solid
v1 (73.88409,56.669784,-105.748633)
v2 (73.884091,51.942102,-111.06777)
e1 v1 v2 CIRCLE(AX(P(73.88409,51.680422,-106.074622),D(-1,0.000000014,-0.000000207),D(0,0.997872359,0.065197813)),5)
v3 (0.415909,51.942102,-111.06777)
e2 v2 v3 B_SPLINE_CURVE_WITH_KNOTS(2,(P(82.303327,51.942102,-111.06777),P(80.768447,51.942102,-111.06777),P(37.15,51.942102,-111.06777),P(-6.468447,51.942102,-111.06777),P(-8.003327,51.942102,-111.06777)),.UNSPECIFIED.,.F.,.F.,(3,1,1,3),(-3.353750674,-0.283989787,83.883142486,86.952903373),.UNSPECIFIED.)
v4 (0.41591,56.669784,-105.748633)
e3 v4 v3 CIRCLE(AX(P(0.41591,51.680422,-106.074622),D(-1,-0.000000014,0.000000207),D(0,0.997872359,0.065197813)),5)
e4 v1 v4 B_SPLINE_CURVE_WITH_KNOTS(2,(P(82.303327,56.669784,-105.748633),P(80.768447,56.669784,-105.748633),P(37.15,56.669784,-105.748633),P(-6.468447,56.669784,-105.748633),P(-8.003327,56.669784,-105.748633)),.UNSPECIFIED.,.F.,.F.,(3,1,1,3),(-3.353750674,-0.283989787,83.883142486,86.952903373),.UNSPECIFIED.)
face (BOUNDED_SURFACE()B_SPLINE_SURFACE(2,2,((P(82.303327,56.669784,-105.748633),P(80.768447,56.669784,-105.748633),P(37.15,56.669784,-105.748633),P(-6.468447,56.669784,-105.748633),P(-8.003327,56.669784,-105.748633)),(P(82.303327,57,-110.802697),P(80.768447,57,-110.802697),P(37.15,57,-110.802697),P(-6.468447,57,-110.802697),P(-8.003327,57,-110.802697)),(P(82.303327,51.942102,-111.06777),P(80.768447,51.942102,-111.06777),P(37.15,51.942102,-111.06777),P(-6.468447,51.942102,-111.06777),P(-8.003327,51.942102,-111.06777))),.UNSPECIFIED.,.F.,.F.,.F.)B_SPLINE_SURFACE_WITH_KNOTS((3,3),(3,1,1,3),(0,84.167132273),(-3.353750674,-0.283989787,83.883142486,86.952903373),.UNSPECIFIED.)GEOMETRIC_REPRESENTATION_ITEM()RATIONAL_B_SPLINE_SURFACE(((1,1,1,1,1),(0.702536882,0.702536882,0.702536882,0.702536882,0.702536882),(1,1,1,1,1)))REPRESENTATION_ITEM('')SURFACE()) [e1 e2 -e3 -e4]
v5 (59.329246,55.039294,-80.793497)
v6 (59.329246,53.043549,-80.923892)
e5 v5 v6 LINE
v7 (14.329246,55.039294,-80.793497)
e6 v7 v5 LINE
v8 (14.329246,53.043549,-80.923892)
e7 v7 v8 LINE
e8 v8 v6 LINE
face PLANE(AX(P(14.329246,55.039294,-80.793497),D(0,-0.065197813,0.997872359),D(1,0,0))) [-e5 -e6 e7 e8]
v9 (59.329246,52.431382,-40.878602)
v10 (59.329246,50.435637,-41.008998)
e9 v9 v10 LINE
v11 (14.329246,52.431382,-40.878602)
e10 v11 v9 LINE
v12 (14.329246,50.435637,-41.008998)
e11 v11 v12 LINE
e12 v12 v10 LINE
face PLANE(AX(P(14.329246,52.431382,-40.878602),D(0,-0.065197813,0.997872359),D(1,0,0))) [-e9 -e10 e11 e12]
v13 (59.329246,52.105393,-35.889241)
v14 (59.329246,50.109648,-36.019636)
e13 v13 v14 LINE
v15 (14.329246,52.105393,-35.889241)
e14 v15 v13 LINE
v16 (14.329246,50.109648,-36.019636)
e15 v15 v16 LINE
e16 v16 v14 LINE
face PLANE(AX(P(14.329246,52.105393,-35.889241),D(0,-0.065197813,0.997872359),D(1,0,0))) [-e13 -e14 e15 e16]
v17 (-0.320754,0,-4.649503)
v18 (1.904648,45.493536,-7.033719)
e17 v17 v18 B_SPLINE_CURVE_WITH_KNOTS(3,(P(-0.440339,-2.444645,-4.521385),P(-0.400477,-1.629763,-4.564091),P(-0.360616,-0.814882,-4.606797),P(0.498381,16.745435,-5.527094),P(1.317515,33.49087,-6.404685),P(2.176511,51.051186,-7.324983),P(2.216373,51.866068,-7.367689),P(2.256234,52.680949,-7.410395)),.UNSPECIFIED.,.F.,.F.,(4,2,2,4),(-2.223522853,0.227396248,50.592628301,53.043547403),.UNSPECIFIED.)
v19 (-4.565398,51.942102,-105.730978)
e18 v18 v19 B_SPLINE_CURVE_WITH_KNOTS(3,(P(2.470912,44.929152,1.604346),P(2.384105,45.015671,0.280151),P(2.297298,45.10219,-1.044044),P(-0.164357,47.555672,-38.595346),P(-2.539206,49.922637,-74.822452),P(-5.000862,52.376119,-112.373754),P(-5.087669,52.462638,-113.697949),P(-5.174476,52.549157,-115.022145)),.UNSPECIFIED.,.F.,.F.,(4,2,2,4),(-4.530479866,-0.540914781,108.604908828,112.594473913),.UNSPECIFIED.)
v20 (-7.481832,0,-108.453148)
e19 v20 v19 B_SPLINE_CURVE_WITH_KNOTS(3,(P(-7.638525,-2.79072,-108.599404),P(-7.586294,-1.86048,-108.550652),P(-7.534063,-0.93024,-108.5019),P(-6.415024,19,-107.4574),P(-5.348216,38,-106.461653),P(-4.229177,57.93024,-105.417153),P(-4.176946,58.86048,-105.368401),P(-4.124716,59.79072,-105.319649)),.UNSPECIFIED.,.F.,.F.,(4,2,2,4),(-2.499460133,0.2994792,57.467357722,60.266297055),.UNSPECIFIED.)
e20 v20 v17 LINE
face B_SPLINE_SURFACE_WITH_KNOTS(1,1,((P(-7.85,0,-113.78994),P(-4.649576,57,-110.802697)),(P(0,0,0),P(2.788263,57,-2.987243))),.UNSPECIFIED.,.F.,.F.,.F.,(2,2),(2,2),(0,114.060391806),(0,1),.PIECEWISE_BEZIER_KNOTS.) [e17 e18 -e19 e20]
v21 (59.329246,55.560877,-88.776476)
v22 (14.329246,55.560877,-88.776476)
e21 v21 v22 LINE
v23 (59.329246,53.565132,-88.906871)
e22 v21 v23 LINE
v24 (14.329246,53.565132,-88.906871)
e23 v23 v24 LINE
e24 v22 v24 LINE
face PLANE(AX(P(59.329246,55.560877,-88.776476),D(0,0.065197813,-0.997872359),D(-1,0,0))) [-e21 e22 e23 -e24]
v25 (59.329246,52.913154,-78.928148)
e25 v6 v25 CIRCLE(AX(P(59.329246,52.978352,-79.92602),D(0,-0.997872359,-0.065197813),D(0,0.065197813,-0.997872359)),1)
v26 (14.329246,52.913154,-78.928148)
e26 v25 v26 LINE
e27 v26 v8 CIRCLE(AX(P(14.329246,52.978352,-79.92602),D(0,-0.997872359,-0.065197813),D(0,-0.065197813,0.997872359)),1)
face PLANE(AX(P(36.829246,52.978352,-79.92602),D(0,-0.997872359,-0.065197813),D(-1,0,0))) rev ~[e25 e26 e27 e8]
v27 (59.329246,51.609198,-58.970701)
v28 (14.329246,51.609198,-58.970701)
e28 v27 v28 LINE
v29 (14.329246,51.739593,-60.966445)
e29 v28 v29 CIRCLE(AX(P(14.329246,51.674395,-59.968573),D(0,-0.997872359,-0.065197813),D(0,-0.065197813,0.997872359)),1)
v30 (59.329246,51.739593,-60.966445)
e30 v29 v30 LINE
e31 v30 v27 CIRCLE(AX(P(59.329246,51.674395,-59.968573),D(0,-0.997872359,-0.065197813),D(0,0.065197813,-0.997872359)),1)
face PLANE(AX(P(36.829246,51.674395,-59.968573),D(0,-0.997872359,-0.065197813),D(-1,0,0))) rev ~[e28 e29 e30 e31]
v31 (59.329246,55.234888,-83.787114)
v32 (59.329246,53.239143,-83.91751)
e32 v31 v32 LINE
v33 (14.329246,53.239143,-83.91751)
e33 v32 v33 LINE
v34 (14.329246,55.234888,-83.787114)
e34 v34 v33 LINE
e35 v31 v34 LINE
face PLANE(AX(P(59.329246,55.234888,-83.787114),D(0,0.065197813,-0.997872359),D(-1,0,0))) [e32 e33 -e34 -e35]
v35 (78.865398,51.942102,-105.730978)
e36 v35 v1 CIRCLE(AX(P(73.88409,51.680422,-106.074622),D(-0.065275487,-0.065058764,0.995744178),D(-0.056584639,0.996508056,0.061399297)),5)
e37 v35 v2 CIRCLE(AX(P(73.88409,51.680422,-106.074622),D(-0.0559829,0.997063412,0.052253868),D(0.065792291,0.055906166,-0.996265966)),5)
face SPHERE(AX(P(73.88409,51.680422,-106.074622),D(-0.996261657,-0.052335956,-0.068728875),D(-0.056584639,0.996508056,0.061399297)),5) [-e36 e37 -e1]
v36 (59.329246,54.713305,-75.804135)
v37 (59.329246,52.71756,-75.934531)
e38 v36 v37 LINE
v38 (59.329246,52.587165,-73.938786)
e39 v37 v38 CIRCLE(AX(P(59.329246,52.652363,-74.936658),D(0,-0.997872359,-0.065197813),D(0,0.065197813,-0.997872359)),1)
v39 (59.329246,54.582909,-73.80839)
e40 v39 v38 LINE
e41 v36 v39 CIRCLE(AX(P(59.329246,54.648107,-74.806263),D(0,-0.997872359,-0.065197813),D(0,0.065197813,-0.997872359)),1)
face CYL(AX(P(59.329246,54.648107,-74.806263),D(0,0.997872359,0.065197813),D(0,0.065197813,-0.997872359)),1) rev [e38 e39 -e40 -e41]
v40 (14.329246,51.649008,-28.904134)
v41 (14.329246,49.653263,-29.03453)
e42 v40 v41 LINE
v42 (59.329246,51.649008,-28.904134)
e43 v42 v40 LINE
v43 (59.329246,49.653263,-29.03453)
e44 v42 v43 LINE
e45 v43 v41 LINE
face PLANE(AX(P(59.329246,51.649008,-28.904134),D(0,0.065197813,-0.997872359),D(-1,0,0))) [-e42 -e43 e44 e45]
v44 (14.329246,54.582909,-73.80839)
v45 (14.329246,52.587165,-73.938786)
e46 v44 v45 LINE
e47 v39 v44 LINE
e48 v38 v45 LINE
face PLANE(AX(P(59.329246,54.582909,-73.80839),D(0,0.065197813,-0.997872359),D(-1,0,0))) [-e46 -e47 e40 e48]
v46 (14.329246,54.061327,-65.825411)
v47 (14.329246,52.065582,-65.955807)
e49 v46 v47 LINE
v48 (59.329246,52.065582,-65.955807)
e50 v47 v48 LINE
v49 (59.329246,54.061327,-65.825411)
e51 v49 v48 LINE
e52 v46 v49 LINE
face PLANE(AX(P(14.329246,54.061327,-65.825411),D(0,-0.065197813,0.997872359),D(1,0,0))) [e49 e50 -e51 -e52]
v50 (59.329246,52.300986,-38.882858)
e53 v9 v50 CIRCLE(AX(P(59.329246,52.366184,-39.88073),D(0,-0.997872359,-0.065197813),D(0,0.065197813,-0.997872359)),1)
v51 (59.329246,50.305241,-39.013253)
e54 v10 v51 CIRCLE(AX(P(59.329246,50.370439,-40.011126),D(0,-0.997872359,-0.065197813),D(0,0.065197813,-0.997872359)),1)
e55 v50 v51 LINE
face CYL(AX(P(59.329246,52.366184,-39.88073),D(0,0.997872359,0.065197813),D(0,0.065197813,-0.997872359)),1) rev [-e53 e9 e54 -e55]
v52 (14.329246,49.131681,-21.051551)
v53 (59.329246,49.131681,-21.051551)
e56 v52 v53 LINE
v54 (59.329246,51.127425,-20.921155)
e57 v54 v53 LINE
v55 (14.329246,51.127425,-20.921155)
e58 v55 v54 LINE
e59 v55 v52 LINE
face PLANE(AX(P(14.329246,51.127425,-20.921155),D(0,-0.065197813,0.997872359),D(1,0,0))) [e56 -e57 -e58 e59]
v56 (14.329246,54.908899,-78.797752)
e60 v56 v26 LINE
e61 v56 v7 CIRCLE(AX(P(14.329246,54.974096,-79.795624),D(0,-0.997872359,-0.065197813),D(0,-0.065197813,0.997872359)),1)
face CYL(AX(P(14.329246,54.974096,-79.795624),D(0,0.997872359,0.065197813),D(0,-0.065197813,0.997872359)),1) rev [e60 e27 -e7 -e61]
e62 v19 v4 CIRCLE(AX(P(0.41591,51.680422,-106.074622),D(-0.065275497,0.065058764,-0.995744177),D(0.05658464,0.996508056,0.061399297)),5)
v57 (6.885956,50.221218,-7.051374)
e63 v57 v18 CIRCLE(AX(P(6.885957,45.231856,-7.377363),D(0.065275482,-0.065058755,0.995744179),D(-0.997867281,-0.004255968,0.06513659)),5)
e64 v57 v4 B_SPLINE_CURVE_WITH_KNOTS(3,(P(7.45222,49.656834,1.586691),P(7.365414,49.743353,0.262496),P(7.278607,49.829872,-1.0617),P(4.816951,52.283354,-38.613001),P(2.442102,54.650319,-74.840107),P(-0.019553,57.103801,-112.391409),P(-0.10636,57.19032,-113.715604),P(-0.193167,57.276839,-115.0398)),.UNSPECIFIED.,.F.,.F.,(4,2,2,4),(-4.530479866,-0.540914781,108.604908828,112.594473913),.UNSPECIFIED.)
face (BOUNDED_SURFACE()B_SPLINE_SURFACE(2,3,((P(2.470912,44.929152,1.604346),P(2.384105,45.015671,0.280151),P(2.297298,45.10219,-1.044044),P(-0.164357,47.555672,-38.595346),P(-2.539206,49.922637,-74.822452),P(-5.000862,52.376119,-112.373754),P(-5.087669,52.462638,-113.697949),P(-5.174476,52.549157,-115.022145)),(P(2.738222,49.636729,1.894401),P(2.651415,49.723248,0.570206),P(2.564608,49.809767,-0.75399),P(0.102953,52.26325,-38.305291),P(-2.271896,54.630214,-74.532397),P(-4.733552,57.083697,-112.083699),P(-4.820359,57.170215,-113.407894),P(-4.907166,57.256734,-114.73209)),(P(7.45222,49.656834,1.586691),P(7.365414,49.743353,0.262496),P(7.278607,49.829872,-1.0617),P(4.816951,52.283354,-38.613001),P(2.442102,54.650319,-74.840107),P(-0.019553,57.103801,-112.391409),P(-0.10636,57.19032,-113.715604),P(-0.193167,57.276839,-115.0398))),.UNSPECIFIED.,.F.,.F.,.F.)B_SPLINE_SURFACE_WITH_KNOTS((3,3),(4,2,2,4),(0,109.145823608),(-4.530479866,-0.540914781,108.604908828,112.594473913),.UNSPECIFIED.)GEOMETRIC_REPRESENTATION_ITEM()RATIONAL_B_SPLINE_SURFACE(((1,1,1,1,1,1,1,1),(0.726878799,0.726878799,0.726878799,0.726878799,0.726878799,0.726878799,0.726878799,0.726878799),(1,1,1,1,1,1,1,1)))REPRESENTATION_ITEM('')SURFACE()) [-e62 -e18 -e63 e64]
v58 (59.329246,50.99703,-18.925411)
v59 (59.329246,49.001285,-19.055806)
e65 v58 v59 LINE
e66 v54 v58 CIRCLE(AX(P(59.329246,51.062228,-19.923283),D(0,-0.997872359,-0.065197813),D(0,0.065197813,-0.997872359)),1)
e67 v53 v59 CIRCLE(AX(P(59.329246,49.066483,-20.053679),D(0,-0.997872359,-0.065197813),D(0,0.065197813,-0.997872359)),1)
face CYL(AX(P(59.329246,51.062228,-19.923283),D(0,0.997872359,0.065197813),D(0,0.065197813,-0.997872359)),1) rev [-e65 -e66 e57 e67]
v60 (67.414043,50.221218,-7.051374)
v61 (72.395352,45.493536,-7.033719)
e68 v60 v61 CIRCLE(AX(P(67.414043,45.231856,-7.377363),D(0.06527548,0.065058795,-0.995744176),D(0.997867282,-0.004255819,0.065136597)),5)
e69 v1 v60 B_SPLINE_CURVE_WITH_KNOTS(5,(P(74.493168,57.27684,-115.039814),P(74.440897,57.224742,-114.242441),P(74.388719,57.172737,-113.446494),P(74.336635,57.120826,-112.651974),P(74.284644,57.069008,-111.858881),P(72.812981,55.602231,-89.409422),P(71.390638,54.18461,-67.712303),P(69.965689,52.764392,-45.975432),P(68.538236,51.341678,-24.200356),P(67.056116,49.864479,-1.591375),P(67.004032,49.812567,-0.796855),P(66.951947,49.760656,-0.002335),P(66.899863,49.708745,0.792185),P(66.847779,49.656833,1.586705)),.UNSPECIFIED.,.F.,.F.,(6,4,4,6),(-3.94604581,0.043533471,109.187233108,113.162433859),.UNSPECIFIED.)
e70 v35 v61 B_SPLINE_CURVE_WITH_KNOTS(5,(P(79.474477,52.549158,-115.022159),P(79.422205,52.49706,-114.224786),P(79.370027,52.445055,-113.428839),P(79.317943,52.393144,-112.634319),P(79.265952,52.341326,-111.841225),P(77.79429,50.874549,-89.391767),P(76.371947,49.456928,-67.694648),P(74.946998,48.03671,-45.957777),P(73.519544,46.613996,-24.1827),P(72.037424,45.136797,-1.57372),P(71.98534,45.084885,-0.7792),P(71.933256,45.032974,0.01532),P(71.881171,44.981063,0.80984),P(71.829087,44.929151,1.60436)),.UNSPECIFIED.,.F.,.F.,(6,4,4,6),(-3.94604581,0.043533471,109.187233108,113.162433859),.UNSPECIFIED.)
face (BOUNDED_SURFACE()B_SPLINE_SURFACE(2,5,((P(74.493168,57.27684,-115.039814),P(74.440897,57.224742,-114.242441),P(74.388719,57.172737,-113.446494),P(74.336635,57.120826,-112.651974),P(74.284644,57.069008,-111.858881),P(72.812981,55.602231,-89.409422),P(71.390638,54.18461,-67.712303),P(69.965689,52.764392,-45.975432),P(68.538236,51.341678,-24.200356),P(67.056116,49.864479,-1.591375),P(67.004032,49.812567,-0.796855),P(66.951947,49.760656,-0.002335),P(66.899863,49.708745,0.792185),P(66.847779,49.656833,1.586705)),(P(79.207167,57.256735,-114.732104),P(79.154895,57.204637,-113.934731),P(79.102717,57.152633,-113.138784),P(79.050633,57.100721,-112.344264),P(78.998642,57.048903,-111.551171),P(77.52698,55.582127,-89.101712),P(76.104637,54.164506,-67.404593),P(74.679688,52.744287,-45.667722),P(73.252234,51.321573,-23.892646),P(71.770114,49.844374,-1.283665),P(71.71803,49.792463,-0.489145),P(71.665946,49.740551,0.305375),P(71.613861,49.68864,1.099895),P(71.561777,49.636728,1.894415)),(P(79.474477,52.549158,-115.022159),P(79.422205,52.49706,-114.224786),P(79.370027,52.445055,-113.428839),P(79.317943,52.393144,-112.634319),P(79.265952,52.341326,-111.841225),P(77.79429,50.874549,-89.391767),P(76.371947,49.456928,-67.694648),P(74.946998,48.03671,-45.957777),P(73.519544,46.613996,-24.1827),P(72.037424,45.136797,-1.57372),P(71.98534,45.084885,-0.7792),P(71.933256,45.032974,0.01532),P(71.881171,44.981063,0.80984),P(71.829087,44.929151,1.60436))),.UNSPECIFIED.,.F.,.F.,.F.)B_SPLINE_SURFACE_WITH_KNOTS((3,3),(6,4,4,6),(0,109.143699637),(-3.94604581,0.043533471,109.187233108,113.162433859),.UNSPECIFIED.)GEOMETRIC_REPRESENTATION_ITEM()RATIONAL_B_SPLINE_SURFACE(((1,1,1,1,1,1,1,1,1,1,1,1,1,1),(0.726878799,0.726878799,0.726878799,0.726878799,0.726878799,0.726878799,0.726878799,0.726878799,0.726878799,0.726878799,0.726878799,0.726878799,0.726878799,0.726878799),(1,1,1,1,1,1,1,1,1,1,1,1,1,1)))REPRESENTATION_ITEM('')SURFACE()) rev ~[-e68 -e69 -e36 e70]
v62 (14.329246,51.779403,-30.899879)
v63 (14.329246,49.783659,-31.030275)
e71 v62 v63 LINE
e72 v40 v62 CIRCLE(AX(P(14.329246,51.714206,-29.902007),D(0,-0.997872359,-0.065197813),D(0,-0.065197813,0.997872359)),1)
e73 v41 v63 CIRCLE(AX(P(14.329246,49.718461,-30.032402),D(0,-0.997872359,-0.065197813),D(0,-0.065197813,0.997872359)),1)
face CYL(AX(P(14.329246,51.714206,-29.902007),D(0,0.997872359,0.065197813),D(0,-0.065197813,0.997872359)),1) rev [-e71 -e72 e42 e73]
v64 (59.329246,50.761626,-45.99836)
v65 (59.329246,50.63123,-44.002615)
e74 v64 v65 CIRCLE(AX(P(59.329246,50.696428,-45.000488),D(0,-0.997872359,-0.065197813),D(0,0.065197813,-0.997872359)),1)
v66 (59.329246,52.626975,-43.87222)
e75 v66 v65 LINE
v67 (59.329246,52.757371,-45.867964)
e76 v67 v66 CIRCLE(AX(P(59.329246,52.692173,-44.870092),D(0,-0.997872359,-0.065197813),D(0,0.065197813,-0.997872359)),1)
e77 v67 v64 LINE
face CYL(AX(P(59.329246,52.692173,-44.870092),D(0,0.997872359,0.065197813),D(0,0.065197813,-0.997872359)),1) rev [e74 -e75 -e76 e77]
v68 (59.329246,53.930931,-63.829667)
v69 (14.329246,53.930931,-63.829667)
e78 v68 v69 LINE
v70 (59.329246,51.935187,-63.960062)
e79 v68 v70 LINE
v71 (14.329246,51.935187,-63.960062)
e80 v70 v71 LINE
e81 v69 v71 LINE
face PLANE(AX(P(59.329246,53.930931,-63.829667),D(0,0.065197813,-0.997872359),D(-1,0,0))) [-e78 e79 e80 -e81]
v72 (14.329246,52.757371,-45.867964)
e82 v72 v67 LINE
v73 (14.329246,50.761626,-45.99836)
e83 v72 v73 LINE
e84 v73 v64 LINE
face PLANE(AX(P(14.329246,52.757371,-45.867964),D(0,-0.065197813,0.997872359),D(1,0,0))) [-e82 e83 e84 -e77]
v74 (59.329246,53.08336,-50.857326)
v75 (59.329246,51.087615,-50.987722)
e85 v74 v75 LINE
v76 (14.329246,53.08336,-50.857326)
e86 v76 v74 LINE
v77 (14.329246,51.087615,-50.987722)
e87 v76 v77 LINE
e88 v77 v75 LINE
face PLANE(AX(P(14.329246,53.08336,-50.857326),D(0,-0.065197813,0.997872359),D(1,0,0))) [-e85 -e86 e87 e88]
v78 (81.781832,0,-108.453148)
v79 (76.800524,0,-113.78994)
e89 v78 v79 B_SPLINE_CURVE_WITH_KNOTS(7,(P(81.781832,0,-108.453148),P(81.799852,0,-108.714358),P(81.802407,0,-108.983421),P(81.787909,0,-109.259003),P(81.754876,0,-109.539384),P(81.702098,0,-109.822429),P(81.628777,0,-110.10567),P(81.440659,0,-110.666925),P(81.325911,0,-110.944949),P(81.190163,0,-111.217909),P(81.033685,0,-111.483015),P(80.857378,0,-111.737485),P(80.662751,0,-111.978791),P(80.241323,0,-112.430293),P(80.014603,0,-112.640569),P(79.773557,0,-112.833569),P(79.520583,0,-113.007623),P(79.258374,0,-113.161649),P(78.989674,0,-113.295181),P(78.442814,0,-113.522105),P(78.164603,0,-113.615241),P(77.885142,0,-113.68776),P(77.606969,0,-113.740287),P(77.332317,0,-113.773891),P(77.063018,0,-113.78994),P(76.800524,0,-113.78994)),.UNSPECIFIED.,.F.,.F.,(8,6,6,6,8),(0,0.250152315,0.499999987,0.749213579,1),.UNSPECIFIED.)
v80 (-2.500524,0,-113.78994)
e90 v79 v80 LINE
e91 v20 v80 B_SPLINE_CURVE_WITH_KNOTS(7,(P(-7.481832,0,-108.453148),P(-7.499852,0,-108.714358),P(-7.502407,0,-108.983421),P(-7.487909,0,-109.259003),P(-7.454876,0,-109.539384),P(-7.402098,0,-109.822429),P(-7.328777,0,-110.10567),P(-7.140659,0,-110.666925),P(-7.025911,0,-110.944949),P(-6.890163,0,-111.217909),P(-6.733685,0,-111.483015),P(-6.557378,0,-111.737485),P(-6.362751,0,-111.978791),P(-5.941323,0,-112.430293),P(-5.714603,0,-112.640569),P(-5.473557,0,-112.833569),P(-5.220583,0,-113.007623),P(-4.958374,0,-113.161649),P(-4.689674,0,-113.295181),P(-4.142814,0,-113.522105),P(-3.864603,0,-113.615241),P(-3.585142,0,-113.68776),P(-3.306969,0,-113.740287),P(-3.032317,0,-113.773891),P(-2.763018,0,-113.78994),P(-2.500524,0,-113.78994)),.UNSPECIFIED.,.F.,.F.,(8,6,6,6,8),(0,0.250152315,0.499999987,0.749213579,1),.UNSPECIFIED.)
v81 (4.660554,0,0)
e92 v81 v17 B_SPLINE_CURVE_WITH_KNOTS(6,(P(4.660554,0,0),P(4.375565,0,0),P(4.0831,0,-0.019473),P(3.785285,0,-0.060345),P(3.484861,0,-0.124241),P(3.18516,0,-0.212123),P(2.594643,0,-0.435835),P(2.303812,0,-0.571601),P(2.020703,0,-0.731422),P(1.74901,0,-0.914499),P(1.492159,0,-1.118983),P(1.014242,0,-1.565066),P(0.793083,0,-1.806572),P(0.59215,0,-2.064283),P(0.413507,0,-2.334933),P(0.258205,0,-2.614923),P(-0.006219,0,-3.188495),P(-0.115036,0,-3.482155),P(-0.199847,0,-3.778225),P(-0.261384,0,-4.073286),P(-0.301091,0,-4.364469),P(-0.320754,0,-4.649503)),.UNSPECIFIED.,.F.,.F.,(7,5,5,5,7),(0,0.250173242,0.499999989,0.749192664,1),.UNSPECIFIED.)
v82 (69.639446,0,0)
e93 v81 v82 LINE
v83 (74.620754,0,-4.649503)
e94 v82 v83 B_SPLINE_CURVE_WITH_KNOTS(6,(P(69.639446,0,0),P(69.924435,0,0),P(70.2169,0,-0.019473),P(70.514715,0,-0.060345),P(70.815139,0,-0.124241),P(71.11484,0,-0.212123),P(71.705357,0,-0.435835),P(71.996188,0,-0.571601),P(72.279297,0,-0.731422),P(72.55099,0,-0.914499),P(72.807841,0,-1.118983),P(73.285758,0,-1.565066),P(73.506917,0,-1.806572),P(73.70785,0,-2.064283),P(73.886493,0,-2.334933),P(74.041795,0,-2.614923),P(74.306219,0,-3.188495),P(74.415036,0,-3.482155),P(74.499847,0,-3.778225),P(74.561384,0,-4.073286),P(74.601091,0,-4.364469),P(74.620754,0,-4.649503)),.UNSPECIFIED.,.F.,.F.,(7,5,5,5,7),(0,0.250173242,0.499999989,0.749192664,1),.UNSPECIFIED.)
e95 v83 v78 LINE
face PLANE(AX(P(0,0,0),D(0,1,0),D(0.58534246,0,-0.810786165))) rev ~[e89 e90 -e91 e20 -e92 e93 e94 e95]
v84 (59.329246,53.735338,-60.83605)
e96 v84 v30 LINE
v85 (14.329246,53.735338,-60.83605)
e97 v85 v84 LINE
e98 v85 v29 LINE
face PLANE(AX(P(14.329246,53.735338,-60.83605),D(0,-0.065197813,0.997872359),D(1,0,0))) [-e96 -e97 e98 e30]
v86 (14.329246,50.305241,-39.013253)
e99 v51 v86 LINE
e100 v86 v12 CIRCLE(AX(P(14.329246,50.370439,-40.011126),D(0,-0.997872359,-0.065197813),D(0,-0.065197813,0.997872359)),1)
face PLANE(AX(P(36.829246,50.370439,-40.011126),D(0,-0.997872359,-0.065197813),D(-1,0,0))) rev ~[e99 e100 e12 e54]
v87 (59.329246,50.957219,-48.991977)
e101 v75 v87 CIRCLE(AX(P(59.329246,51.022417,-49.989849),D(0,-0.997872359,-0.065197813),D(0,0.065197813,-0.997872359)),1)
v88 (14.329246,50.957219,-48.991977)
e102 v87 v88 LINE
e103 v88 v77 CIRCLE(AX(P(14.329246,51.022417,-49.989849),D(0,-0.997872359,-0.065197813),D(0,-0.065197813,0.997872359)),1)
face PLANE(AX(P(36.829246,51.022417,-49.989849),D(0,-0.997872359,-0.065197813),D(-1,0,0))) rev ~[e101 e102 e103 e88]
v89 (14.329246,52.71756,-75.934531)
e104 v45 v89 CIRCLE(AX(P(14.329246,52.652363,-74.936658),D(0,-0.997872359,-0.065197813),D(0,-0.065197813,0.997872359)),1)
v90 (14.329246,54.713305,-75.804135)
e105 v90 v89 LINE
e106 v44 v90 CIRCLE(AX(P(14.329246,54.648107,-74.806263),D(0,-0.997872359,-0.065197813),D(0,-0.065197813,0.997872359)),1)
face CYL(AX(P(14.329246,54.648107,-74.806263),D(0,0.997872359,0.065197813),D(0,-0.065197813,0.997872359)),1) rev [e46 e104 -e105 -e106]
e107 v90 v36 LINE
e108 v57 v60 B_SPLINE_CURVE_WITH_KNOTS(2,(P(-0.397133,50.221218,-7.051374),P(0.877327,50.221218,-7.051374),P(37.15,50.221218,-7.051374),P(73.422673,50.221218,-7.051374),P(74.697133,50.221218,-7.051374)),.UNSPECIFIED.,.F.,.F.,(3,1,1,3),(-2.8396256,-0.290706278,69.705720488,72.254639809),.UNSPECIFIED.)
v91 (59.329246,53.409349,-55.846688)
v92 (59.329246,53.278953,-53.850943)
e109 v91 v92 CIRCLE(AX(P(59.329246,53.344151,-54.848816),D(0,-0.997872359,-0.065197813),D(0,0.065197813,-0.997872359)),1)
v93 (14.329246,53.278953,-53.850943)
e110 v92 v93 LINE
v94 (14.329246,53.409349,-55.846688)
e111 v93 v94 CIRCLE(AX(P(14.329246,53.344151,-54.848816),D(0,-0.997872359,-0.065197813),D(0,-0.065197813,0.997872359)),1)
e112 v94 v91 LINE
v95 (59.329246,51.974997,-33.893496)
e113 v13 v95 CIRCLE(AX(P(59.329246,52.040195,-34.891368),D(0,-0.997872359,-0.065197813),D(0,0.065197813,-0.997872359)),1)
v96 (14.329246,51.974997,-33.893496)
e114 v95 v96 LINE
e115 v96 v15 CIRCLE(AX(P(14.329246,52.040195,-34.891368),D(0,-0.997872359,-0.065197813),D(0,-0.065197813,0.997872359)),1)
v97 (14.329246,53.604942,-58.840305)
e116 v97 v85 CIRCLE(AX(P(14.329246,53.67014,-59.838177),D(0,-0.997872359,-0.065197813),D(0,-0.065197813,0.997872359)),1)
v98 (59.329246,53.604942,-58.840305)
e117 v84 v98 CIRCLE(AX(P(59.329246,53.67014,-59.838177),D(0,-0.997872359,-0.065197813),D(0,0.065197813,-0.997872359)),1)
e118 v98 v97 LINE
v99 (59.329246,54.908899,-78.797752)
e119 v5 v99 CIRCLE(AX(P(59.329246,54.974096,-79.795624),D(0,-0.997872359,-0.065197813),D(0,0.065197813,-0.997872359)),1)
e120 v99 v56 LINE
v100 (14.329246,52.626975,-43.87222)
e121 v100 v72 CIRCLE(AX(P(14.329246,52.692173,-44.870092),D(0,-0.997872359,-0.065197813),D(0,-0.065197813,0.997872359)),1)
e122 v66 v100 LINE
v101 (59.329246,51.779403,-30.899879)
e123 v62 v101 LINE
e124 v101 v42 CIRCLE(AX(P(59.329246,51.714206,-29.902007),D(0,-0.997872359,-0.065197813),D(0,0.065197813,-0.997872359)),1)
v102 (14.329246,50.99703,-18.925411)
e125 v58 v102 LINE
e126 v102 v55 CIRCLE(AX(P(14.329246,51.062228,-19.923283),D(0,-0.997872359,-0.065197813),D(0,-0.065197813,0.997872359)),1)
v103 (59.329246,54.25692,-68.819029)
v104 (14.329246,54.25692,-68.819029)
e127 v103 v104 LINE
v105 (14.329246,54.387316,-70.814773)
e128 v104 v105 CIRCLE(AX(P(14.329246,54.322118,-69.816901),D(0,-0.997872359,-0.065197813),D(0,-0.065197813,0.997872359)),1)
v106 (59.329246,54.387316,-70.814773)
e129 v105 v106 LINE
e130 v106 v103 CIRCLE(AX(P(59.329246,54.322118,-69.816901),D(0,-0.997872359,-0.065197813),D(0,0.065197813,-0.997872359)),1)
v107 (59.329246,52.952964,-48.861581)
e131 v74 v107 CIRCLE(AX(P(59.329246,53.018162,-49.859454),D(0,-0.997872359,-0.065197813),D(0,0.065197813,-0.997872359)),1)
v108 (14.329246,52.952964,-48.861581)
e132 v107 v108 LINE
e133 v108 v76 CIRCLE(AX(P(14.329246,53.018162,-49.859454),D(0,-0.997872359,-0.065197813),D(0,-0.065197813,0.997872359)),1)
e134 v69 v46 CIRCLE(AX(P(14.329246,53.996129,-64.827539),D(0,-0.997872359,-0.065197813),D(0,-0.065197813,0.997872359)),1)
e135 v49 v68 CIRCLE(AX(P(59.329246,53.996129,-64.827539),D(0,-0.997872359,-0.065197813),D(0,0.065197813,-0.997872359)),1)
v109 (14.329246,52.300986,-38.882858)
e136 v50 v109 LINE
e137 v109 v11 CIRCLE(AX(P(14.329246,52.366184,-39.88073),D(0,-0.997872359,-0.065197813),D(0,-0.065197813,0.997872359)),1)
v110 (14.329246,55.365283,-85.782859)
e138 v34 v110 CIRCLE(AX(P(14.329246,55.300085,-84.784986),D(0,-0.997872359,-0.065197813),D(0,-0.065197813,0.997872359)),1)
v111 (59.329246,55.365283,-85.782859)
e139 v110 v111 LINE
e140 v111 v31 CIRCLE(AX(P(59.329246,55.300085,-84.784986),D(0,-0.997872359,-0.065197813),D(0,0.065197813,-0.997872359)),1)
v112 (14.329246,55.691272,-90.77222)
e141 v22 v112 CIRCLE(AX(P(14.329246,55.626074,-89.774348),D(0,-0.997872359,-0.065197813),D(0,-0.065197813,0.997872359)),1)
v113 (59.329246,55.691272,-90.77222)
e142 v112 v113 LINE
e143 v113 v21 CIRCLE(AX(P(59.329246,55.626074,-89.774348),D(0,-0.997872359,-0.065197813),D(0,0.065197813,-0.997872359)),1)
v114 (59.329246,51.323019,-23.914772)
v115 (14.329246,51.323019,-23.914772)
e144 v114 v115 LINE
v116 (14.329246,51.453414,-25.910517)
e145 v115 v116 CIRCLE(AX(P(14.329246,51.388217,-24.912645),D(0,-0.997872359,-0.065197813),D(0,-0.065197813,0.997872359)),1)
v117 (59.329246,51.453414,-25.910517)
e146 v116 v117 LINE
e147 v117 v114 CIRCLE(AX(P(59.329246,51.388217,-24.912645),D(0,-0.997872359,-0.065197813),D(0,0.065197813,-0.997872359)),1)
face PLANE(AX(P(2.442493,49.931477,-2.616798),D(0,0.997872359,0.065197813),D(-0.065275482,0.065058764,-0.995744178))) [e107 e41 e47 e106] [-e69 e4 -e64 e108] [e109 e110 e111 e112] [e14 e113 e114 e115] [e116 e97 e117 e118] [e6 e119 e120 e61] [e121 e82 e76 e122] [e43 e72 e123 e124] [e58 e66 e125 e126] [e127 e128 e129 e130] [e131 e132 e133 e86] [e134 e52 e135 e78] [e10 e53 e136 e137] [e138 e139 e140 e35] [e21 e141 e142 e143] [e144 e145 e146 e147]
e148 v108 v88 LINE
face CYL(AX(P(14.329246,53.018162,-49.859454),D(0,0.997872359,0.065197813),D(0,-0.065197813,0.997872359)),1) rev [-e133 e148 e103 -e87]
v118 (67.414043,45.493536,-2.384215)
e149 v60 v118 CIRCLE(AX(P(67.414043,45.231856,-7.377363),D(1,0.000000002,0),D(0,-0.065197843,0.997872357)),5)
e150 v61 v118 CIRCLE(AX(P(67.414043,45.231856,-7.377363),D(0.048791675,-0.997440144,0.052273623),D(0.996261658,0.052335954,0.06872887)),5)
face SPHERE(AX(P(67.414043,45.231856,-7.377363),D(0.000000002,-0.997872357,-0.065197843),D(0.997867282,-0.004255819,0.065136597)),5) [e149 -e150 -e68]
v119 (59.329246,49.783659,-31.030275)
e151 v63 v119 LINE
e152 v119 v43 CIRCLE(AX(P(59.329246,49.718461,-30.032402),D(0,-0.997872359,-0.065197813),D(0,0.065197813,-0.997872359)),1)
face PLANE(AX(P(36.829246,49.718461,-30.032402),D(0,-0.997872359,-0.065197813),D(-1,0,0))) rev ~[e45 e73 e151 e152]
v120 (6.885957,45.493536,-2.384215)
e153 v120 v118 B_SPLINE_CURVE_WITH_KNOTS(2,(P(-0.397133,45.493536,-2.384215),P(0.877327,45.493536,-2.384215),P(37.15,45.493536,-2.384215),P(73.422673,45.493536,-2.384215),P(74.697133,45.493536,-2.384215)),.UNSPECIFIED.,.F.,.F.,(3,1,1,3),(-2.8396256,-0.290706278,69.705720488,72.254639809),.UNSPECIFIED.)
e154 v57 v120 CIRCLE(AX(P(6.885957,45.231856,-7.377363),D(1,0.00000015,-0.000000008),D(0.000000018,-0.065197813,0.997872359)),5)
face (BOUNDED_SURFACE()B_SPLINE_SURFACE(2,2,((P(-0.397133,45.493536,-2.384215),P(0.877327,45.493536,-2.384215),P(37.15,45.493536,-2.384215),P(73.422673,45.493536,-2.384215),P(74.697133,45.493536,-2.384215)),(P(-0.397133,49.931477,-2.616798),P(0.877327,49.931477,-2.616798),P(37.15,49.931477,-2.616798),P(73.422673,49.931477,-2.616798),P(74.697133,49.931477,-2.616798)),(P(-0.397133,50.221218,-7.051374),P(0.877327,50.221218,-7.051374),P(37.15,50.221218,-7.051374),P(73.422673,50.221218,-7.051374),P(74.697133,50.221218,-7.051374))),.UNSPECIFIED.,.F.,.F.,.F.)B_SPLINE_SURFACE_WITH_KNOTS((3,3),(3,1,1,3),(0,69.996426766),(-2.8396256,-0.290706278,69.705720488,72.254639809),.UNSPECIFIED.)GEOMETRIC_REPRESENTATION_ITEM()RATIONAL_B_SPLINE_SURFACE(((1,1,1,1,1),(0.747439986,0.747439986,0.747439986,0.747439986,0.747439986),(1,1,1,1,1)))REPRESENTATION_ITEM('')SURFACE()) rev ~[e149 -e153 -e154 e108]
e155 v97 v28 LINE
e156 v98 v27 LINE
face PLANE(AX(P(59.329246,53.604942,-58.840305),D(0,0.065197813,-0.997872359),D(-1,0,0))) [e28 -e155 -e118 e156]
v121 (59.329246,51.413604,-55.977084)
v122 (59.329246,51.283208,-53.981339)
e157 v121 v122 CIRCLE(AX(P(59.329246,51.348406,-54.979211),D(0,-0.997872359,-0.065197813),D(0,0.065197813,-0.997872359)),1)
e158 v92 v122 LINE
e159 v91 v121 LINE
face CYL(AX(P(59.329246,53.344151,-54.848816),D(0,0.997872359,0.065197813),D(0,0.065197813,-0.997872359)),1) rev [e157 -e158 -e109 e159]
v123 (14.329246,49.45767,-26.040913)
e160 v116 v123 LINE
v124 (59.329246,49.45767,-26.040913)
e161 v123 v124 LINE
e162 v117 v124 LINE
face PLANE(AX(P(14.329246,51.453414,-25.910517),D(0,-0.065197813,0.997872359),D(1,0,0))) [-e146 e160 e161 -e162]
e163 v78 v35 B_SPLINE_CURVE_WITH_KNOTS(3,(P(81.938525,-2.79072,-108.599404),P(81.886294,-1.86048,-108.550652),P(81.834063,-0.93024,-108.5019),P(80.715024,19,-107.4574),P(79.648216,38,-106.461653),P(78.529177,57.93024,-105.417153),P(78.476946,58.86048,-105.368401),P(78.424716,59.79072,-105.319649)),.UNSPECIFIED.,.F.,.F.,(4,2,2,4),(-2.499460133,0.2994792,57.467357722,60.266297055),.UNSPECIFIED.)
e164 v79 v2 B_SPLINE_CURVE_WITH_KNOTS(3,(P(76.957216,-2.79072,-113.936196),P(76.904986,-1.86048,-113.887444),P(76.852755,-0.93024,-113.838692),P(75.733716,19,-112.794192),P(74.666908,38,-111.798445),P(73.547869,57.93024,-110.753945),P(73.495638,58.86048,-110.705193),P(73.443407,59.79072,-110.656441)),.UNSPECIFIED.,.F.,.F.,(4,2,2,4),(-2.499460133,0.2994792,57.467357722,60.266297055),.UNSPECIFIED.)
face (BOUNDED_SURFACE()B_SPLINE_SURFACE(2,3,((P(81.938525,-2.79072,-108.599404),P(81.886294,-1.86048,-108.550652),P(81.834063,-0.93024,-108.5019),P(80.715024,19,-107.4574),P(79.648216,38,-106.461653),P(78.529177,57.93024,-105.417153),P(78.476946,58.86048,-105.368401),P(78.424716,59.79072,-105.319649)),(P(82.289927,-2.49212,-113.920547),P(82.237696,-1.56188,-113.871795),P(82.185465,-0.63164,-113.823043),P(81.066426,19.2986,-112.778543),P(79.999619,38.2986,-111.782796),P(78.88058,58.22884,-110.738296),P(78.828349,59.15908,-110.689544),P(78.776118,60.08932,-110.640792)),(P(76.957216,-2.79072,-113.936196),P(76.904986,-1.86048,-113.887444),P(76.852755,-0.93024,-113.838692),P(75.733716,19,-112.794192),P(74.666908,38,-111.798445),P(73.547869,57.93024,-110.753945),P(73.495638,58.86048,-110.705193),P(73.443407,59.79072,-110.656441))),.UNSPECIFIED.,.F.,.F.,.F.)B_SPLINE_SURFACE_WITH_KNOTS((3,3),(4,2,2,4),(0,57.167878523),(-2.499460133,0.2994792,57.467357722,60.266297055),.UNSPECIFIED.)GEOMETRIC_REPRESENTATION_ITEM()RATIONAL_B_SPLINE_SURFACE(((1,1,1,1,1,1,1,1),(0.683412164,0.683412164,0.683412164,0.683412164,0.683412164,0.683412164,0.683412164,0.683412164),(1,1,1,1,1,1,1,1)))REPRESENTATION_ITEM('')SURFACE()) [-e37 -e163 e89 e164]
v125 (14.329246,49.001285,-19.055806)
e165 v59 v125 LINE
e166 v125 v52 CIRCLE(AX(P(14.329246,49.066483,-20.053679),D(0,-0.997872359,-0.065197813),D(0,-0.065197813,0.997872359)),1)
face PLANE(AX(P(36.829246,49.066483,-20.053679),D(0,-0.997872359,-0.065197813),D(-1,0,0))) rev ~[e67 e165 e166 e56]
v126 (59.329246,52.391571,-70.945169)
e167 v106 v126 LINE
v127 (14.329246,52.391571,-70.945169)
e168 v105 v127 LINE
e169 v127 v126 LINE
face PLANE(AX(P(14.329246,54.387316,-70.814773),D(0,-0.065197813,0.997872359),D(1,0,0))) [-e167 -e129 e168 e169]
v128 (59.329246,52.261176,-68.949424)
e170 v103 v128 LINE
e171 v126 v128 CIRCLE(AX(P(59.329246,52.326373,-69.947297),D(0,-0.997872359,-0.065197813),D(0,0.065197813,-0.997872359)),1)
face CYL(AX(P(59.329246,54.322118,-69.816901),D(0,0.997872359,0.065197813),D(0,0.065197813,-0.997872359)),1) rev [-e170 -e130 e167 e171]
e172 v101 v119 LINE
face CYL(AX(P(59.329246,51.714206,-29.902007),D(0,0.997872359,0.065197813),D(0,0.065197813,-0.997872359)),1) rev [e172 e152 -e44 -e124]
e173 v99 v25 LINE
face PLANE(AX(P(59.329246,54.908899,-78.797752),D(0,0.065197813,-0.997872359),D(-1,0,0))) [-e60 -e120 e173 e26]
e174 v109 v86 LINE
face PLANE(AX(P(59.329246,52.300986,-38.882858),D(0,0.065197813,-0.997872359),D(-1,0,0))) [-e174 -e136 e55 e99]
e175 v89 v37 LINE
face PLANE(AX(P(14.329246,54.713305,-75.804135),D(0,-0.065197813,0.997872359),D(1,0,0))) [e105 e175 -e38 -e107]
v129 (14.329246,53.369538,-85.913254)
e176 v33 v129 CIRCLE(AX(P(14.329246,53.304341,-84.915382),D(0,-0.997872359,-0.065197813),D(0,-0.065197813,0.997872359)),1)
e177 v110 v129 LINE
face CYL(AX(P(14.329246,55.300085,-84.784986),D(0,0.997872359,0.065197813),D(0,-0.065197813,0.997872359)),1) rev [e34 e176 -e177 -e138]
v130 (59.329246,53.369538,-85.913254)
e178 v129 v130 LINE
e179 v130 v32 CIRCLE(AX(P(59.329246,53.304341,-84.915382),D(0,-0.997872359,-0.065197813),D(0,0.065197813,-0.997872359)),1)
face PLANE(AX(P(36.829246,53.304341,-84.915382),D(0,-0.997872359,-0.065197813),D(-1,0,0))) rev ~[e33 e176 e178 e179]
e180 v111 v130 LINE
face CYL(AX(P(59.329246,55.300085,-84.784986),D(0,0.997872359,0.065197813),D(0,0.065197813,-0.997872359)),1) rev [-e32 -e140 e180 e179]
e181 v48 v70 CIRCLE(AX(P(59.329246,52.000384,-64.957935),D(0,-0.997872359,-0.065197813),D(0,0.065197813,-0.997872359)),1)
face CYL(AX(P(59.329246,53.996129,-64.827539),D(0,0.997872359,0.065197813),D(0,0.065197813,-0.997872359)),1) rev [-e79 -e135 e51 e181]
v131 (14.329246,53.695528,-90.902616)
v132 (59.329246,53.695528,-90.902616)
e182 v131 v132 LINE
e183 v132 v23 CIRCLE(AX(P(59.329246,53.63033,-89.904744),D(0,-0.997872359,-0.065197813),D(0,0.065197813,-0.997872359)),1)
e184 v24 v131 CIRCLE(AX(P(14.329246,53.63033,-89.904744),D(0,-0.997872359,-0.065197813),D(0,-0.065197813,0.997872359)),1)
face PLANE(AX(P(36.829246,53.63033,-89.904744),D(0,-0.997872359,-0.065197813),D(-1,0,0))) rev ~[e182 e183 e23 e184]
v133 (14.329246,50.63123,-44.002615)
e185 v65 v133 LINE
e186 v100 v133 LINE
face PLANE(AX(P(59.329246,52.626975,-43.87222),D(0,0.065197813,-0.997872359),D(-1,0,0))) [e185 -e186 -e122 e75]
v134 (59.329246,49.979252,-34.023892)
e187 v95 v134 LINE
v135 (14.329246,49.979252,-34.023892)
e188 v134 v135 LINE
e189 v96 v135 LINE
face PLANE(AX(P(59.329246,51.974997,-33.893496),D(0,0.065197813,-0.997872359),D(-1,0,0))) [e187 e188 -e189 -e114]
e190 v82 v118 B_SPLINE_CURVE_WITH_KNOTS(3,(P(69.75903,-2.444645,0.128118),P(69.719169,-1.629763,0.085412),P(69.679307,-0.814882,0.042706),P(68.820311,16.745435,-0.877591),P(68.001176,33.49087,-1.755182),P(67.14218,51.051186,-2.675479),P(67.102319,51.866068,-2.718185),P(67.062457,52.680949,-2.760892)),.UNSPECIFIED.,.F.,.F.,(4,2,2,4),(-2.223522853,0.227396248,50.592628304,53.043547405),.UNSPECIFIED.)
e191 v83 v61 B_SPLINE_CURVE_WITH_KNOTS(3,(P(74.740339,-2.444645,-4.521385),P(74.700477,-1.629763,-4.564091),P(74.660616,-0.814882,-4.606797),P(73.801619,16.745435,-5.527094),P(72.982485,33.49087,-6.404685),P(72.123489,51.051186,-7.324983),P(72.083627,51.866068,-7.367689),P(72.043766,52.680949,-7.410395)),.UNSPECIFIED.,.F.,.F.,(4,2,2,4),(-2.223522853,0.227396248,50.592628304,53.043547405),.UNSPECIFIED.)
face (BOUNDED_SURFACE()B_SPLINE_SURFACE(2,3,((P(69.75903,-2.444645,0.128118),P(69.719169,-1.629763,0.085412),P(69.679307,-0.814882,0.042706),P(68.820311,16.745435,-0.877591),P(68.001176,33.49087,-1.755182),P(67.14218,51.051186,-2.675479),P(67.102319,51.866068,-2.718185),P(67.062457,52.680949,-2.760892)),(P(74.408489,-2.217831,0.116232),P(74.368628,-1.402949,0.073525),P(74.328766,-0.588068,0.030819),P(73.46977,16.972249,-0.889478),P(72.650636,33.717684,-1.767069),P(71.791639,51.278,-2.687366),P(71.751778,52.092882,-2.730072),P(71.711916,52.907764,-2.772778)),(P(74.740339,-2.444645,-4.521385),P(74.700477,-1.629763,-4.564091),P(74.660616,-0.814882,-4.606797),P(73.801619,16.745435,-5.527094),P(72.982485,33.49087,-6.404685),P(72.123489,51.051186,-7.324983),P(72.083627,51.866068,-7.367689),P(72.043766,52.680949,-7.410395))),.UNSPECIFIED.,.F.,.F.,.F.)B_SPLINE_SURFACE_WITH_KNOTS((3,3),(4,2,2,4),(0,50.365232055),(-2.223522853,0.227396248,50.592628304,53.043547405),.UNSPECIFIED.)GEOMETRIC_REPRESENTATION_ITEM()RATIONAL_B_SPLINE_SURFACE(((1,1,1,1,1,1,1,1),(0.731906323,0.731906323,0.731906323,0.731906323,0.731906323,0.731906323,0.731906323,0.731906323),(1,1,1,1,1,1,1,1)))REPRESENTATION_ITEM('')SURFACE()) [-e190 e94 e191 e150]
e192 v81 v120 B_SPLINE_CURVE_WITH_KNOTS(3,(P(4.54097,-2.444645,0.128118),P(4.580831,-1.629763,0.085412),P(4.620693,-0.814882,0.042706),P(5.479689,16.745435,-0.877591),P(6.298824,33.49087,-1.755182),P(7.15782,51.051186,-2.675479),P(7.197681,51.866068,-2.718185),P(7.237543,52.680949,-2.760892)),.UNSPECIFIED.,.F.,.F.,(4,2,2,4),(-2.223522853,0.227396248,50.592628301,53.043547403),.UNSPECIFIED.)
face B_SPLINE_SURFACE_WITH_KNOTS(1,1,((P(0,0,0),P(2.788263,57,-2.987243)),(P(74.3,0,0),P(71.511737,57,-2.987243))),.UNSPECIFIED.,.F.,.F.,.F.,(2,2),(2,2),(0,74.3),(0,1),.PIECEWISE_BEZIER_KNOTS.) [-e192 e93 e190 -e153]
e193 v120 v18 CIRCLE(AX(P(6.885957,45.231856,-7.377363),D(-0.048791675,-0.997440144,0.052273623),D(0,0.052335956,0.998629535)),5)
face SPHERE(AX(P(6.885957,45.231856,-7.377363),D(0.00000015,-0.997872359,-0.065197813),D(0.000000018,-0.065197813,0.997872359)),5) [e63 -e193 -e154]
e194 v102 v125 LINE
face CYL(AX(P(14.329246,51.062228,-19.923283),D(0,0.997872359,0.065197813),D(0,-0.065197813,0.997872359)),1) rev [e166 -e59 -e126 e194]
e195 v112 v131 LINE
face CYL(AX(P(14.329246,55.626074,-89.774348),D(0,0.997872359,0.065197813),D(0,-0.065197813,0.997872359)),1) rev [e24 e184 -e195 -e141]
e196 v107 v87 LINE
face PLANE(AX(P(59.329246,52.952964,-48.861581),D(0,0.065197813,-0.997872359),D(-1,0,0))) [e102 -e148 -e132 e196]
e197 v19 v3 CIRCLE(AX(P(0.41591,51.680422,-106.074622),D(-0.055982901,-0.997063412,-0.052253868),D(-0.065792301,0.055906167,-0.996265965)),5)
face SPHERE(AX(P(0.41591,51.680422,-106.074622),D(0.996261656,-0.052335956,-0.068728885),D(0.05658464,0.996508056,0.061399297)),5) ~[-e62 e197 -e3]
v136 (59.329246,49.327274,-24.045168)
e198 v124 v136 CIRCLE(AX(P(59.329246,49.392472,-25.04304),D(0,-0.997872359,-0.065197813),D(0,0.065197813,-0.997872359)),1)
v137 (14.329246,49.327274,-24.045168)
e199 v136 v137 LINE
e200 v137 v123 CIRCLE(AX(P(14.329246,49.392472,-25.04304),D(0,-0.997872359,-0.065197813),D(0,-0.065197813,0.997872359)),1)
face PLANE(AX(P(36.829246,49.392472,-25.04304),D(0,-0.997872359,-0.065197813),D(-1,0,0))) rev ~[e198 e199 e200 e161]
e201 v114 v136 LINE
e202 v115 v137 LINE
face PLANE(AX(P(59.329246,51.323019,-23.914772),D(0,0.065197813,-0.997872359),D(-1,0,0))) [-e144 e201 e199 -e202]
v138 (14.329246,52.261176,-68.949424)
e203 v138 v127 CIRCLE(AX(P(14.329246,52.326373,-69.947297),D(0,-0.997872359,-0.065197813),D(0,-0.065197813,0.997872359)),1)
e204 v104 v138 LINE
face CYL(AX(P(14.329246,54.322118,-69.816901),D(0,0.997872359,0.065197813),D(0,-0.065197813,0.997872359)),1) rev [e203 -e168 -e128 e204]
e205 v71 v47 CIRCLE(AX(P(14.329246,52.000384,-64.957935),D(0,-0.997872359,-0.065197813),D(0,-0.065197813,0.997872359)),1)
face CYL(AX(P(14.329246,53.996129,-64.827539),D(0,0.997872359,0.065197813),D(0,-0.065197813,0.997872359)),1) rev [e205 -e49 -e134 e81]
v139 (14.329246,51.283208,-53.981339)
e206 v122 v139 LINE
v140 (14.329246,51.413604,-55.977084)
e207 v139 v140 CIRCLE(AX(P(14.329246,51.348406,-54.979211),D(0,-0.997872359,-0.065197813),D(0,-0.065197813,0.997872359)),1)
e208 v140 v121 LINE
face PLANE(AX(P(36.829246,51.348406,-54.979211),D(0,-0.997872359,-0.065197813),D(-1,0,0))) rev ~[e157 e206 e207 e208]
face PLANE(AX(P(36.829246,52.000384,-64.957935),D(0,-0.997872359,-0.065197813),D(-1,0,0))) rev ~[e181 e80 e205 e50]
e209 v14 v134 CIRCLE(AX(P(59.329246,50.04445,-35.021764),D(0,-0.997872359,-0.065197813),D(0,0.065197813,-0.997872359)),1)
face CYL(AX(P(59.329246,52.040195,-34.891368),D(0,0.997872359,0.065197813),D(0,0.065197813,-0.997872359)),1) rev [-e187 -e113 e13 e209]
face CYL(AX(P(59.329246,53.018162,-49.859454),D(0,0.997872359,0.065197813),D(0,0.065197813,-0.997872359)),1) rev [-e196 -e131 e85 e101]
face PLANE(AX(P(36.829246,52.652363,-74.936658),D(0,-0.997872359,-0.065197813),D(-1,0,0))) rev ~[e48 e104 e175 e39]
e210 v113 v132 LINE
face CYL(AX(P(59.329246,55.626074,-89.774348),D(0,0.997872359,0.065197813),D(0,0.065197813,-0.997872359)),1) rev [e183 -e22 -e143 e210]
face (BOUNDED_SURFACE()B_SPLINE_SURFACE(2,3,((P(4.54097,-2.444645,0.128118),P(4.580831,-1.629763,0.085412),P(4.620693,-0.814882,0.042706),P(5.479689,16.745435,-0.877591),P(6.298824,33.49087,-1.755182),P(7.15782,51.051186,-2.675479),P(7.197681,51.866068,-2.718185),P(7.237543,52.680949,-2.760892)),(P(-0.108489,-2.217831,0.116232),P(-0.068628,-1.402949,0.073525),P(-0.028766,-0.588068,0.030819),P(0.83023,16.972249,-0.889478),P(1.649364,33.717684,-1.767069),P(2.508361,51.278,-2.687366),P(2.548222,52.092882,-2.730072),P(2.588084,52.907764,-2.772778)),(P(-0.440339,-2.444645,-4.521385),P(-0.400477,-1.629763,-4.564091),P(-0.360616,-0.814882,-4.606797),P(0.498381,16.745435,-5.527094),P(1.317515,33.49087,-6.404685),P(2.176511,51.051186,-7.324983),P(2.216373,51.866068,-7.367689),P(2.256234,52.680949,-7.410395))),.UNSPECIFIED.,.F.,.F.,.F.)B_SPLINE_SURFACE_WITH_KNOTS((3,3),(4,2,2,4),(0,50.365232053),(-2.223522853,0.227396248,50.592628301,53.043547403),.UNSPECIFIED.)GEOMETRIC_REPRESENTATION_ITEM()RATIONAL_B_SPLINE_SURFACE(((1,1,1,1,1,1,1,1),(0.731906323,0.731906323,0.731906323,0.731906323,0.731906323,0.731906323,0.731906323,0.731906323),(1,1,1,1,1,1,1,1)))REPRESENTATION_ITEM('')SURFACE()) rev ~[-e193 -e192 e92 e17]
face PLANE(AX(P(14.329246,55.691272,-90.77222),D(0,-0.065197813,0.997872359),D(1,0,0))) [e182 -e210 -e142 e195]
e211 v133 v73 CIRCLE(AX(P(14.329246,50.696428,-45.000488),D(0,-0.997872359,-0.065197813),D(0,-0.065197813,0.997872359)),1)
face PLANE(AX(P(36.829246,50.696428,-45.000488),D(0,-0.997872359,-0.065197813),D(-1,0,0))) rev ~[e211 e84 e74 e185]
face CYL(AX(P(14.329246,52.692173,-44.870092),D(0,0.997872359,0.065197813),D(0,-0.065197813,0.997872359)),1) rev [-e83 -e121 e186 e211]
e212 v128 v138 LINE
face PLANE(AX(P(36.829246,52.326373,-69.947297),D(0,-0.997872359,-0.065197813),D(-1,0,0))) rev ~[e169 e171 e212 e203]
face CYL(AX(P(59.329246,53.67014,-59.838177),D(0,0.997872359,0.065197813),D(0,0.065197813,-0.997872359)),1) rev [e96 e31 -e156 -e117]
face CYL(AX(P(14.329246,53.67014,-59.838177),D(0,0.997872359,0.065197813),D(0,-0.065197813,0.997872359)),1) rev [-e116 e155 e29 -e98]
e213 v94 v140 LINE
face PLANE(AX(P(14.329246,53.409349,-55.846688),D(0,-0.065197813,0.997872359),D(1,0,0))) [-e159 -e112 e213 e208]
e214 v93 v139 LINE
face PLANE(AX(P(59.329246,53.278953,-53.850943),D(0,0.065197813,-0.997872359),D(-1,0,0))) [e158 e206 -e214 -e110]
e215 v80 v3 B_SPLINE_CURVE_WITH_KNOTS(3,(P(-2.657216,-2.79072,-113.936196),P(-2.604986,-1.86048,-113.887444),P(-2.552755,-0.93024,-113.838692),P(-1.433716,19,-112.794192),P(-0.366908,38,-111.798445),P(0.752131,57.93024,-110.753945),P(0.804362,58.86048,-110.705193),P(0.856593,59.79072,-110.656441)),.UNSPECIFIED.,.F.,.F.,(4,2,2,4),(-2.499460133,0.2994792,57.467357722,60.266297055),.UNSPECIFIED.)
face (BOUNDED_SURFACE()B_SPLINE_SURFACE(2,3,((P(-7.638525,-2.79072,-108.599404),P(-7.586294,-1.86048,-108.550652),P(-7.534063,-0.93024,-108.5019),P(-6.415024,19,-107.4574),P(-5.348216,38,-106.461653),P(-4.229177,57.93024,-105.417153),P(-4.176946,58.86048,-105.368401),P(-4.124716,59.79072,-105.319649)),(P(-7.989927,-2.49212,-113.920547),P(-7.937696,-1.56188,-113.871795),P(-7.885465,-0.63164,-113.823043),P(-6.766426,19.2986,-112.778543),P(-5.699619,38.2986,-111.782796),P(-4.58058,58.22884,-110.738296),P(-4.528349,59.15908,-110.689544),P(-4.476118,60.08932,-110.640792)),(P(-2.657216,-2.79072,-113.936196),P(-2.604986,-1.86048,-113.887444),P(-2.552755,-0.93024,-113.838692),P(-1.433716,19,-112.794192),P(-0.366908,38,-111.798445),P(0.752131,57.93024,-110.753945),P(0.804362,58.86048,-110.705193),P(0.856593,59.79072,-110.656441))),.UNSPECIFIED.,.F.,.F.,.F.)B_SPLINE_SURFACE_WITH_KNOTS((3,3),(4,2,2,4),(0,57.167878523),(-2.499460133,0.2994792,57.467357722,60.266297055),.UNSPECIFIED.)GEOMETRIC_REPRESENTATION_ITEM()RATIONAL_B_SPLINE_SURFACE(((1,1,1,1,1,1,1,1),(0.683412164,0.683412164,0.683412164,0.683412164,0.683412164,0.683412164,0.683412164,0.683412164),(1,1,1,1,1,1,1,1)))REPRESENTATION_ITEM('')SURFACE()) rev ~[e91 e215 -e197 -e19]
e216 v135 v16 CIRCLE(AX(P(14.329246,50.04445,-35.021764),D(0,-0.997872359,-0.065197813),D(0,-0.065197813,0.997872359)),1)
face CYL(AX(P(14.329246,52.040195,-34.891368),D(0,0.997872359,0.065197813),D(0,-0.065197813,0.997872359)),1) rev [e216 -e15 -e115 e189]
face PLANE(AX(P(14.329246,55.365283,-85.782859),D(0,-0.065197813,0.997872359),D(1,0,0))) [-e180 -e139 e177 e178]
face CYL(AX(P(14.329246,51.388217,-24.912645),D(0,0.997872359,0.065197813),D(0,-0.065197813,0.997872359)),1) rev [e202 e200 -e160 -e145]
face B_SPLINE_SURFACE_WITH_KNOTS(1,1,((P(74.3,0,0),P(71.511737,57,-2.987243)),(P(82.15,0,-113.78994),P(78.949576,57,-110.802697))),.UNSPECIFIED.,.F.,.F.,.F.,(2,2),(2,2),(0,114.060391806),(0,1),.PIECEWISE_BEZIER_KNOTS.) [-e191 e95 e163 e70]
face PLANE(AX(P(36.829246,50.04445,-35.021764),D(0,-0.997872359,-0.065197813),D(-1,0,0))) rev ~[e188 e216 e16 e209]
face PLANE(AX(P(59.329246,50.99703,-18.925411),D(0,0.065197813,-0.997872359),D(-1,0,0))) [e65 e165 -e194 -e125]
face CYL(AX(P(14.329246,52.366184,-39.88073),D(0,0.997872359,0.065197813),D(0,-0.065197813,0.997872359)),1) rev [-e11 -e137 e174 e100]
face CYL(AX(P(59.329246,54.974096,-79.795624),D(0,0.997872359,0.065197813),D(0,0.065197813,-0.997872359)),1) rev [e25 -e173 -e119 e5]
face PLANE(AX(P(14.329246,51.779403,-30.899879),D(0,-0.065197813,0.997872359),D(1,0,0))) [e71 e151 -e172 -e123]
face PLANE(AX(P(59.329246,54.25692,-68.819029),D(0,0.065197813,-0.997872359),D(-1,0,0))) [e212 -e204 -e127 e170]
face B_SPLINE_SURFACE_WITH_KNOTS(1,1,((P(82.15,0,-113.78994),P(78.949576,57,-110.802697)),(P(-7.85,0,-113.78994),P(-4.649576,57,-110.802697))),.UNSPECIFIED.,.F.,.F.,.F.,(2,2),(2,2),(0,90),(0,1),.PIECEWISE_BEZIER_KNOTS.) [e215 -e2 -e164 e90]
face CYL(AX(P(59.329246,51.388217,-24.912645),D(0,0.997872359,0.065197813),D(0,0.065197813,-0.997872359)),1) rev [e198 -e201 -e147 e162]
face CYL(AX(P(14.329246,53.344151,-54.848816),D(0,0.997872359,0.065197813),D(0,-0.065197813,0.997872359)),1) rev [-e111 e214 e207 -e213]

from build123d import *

# Parameters (mm, degrees)
BOSS_EXTRUDE1_DEPTH = 57
BOSS_EXTRUDE1_TAPER = 3
CUT_EXTRUDE5_DEPTH  = 91.003752482
FILLET1_R           = 5
CUT_EXTRUDE6_DEPTH  = 2


with BuildPart() as part:
    # Sketch1 → Boss-Extrude1 (new body)
    with BuildSketch(Plane(origin=(0, 0, 0), x_dir=(1, 0, 0), z_dir=(0, 1, 0))):
        Polygon((0, 0), (74.3, 0), (82.15, 113.789940148), (-7.85, 113.789940148), align=None)
    extrude(amount=BOSS_EXTRUDE1_DEPTH, taper=BOSS_EXTRUDE1_TAPER)

    # Sketch3 → Cut-Extrude5 (cut, through all, along a direction that is not the sketch's normal)
    with BuildSketch(Plane(origin=(0, 0, 0), x_dir=(0.068634232, -0.003605517, 0.997635375), z_dir=(-0.996261657, 0.052335956, 0.06872887))):
        Polygon((-111.065324518, 56.677595682), (-2.994323871, 57.067784774), (-2.623000223, 49.990855578), align=None)
    extrude(amount=-CUT_EXTRUDE5_DEPTH, dir=(-1, 0, 0), mode=Mode.SUBTRACT)

    # Fillet1
    fillet1_edges = [part.edges().sort_by_distance(p)[0] for p in [
        (37.15, 57, -110.802696729),
        (1.22124645, 24.965738369, -1.308398906),
        (73.07875355, 24.965738369, -1.308398906),
        (75.403541725, 53.465738369, -56.709747271),
        (37.15, 49.931476738, -2.616797812),
        (-1.103541725, 53.465738369, -56.709747271),
        (-6.249788175, 28.5, -112.296318439),
        (80.549788175, 28.5, -112.296318439),
    ]]
    fillet(fillet1_edges, radius=FILLET1_R)

    # Sketch4 → Cut-Extrude6 (cut)
    with BuildSketch(Plane(origin=(0, 49.548983776, 3.237373336), x_dir=(1, 0, 0), z_dir=(0, 0.997872359, 0.065197813))):
        with BuildLine():
            Line((14.329245801, 94.210038911), (59.329245801, 94.210038911))
            ThreePointArc((59.329245801, 94.210038911), (60.329245801, 93.210038911), (59.329245801, 92.210038911))
            Line((59.329245801, 92.210038911), (14.329245801, 92.210038911))
            ThreePointArc((14.329245801, 92.210038911), (13.329245801, 93.210038911), (14.329245801, 94.210038911))
        make_face()
        with BuildLine():
            Line((14.329245801, 89.210038911), (59.329245801, 89.210038911))
            ThreePointArc((59.329245801, 89.210038911), (60.329245801, 88.210038911), (59.329245801, 87.210038911))
            Line((59.329245801, 87.210038911), (14.329245801, 87.210038911))
            ThreePointArc((14.329245801, 87.210038911), (13.329245801, 88.210038911), (14.329245801, 89.210038911))
        make_face()
        with BuildLine():
            Line((14.329245801, 84.210038911), (59.329245801, 84.210038911))
            ThreePointArc((59.329245801, 84.210038911), (60.329245801, 83.210038911), (59.329245801, 82.210038911))
            Line((59.329245801, 82.210038911), (14.329245801, 82.210038911))
            ThreePointArc((14.329245801, 82.210038911), (13.329245801, 83.210038911), (14.329245801, 84.210038911))
        make_face()
        with BuildLine():
            Line((14.329245801, 79.210038911), (59.329245801, 79.210038911))
            ThreePointArc((59.329245801, 79.210038911), (60.329245801, 78.210038911), (59.329245801, 77.210038911))
            Line((59.329245801, 77.210038911), (14.329245801, 77.210038911))
            ThreePointArc((14.329245801, 77.210038911), (13.329245801, 78.210038911), (14.329245801, 79.210038911))
        make_face()
        with BuildLine():
            Line((14.329245801, 74.210038911), (59.329245801, 74.210038911))
            ThreePointArc((59.329245801, 74.210038911), (60.329245801, 73.210038911), (59.329245801, 72.210038911))
            Line((59.329245801, 72.210038911), (14.329245801, 72.210038911))
            ThreePointArc((14.329245801, 72.210038911), (13.329245801, 73.210038911), (14.329245801, 74.210038911))
        make_face()
        with BuildLine():
            Line((14.329245801, 69.210038911), (59.329245801, 69.210038911))
            ThreePointArc((59.329245801, 69.210038911), (60.329245801, 68.210038911), (59.329245801, 67.210038911))
            Line((59.329245801, 67.210038911), (14.329245801, 67.210038911))
            ThreePointArc((14.329245801, 67.210038911), (13.329245801, 68.210038911), (14.329245801, 69.210038911))
        make_face()
        with BuildLine():
            Line((14.329245801, 64.210038911), (59.329245801, 64.210038911))
            ThreePointArc((59.329245801, 64.210038911), (60.329245801, 63.210038911), (59.329245801, 62.210038911))
            Line((59.329245801, 62.210038911), (14.329245801, 62.210038911))
            ThreePointArc((14.329245801, 62.210038911), (13.329245801, 63.210038911), (14.329245801, 64.210038911))
        make_face()
        with BuildLine():
            Line((14.329245801, 59.210038911), (59.329245801, 59.210038911))
            ThreePointArc((59.329245801, 59.210038911), (60.329245801, 58.210038911), (59.329245801, 57.210038911))
            Line((59.329245801, 57.210038911), (14.329245801, 57.210038911))
            ThreePointArc((14.329245801, 57.210038911), (13.329245801, 58.210038911), (14.329245801, 59.210038911))
        make_face()
        with BuildLine():
            Line((14.329245801, 54.210038911), (59.329245801, 54.210038911))
            ThreePointArc((59.329245801, 54.210038911), (60.329245801, 53.210038911), (59.329245801, 52.210038911))
            Line((59.329245801, 52.210038911), (14.329245801, 52.210038911))
            ThreePointArc((14.329245801, 52.210038911), (13.329245801, 53.210038911), (14.329245801, 54.210038911))
        make_face()
        with BuildLine():
            Line((14.329245801, 49.210038911), (59.329245801, 49.210038911))
            ThreePointArc((59.329245801, 49.210038911), (60.329245801, 48.210038911), (59.329245801, 47.210038911))
            Line((59.329245801, 47.210038911), (14.329245801, 47.210038911))
            ThreePointArc((14.329245801, 47.210038911), (13.329245801, 48.210038911), (14.329245801, 49.210038911))
        make_face()
        with BuildLine():
            Line((14.329245801, 44.210038911), (59.329245801, 44.210038911))
            ThreePointArc((59.329245801, 44.210038911), (60.329245801, 43.210038911), (59.329245801, 42.210038911))
            Line((59.329245801, 42.210038911), (14.329245801, 42.210038911))
            ThreePointArc((14.329245801, 42.210038911), (13.329245801, 43.210038911), (14.329245801, 44.210038911))
        make_face()
        with BuildLine():
            Line((14.329245801, 39.210038911), (59.329245801, 39.210038911))
            ThreePointArc((59.329245801, 39.210038911), (60.329245801, 38.210038911), (59.329245801, 37.210038911))
            Line((59.329245801, 37.210038911), (14.329245801, 37.210038911))
            ThreePointArc((14.329245801, 37.210038911), (13.329245801, 38.210038911), (14.329245801, 39.210038911))
        make_face()
        with BuildLine():
            Line((14.329245801, 34.210038911), (59.329245801, 34.210038911))
            ThreePointArc((59.329245801, 34.210038911), (60.329245801, 33.210038911), (59.329245801, 32.210038911))
            Line((59.329245801, 32.210038911), (14.329245801, 32.210038911))
            ThreePointArc((14.329245801, 32.210038911), (13.329245801, 33.210038911), (14.329245801, 34.210038911))
        make_face()
        with BuildLine():
            Line((14.329245801, 29.210038911), (59.329245801, 29.210038911))
            ThreePointArc((59.329245801, 29.210038911), (60.329245801, 28.210038911), (59.329245801, 27.210038911))
            Line((59.329245801, 27.210038911), (14.329245801, 27.210038911))
            ThreePointArc((14.329245801, 27.210038911), (13.329245801, 28.210038911), (14.329245801, 29.210038911))
        make_face()
        with BuildLine():
            Line((14.329245801, 24.210038911), (59.329245801, 24.210038911))
            ThreePointArc((59.329245801, 24.210038911), (60.329245801, 23.210038911), (59.329245801, 22.210038911))
            Line((59.329245801, 22.210038911), (14.329245801, 22.210038911))
            ThreePointArc((14.329245801, 22.210038911), (13.329245801, 23.210038911), (14.329245801, 24.210038911))
        make_face()
    extrude(amount=-CUT_EXTRUDE6_DEPTH, mode=Mode.SUBTRACT)


solid = part.part
